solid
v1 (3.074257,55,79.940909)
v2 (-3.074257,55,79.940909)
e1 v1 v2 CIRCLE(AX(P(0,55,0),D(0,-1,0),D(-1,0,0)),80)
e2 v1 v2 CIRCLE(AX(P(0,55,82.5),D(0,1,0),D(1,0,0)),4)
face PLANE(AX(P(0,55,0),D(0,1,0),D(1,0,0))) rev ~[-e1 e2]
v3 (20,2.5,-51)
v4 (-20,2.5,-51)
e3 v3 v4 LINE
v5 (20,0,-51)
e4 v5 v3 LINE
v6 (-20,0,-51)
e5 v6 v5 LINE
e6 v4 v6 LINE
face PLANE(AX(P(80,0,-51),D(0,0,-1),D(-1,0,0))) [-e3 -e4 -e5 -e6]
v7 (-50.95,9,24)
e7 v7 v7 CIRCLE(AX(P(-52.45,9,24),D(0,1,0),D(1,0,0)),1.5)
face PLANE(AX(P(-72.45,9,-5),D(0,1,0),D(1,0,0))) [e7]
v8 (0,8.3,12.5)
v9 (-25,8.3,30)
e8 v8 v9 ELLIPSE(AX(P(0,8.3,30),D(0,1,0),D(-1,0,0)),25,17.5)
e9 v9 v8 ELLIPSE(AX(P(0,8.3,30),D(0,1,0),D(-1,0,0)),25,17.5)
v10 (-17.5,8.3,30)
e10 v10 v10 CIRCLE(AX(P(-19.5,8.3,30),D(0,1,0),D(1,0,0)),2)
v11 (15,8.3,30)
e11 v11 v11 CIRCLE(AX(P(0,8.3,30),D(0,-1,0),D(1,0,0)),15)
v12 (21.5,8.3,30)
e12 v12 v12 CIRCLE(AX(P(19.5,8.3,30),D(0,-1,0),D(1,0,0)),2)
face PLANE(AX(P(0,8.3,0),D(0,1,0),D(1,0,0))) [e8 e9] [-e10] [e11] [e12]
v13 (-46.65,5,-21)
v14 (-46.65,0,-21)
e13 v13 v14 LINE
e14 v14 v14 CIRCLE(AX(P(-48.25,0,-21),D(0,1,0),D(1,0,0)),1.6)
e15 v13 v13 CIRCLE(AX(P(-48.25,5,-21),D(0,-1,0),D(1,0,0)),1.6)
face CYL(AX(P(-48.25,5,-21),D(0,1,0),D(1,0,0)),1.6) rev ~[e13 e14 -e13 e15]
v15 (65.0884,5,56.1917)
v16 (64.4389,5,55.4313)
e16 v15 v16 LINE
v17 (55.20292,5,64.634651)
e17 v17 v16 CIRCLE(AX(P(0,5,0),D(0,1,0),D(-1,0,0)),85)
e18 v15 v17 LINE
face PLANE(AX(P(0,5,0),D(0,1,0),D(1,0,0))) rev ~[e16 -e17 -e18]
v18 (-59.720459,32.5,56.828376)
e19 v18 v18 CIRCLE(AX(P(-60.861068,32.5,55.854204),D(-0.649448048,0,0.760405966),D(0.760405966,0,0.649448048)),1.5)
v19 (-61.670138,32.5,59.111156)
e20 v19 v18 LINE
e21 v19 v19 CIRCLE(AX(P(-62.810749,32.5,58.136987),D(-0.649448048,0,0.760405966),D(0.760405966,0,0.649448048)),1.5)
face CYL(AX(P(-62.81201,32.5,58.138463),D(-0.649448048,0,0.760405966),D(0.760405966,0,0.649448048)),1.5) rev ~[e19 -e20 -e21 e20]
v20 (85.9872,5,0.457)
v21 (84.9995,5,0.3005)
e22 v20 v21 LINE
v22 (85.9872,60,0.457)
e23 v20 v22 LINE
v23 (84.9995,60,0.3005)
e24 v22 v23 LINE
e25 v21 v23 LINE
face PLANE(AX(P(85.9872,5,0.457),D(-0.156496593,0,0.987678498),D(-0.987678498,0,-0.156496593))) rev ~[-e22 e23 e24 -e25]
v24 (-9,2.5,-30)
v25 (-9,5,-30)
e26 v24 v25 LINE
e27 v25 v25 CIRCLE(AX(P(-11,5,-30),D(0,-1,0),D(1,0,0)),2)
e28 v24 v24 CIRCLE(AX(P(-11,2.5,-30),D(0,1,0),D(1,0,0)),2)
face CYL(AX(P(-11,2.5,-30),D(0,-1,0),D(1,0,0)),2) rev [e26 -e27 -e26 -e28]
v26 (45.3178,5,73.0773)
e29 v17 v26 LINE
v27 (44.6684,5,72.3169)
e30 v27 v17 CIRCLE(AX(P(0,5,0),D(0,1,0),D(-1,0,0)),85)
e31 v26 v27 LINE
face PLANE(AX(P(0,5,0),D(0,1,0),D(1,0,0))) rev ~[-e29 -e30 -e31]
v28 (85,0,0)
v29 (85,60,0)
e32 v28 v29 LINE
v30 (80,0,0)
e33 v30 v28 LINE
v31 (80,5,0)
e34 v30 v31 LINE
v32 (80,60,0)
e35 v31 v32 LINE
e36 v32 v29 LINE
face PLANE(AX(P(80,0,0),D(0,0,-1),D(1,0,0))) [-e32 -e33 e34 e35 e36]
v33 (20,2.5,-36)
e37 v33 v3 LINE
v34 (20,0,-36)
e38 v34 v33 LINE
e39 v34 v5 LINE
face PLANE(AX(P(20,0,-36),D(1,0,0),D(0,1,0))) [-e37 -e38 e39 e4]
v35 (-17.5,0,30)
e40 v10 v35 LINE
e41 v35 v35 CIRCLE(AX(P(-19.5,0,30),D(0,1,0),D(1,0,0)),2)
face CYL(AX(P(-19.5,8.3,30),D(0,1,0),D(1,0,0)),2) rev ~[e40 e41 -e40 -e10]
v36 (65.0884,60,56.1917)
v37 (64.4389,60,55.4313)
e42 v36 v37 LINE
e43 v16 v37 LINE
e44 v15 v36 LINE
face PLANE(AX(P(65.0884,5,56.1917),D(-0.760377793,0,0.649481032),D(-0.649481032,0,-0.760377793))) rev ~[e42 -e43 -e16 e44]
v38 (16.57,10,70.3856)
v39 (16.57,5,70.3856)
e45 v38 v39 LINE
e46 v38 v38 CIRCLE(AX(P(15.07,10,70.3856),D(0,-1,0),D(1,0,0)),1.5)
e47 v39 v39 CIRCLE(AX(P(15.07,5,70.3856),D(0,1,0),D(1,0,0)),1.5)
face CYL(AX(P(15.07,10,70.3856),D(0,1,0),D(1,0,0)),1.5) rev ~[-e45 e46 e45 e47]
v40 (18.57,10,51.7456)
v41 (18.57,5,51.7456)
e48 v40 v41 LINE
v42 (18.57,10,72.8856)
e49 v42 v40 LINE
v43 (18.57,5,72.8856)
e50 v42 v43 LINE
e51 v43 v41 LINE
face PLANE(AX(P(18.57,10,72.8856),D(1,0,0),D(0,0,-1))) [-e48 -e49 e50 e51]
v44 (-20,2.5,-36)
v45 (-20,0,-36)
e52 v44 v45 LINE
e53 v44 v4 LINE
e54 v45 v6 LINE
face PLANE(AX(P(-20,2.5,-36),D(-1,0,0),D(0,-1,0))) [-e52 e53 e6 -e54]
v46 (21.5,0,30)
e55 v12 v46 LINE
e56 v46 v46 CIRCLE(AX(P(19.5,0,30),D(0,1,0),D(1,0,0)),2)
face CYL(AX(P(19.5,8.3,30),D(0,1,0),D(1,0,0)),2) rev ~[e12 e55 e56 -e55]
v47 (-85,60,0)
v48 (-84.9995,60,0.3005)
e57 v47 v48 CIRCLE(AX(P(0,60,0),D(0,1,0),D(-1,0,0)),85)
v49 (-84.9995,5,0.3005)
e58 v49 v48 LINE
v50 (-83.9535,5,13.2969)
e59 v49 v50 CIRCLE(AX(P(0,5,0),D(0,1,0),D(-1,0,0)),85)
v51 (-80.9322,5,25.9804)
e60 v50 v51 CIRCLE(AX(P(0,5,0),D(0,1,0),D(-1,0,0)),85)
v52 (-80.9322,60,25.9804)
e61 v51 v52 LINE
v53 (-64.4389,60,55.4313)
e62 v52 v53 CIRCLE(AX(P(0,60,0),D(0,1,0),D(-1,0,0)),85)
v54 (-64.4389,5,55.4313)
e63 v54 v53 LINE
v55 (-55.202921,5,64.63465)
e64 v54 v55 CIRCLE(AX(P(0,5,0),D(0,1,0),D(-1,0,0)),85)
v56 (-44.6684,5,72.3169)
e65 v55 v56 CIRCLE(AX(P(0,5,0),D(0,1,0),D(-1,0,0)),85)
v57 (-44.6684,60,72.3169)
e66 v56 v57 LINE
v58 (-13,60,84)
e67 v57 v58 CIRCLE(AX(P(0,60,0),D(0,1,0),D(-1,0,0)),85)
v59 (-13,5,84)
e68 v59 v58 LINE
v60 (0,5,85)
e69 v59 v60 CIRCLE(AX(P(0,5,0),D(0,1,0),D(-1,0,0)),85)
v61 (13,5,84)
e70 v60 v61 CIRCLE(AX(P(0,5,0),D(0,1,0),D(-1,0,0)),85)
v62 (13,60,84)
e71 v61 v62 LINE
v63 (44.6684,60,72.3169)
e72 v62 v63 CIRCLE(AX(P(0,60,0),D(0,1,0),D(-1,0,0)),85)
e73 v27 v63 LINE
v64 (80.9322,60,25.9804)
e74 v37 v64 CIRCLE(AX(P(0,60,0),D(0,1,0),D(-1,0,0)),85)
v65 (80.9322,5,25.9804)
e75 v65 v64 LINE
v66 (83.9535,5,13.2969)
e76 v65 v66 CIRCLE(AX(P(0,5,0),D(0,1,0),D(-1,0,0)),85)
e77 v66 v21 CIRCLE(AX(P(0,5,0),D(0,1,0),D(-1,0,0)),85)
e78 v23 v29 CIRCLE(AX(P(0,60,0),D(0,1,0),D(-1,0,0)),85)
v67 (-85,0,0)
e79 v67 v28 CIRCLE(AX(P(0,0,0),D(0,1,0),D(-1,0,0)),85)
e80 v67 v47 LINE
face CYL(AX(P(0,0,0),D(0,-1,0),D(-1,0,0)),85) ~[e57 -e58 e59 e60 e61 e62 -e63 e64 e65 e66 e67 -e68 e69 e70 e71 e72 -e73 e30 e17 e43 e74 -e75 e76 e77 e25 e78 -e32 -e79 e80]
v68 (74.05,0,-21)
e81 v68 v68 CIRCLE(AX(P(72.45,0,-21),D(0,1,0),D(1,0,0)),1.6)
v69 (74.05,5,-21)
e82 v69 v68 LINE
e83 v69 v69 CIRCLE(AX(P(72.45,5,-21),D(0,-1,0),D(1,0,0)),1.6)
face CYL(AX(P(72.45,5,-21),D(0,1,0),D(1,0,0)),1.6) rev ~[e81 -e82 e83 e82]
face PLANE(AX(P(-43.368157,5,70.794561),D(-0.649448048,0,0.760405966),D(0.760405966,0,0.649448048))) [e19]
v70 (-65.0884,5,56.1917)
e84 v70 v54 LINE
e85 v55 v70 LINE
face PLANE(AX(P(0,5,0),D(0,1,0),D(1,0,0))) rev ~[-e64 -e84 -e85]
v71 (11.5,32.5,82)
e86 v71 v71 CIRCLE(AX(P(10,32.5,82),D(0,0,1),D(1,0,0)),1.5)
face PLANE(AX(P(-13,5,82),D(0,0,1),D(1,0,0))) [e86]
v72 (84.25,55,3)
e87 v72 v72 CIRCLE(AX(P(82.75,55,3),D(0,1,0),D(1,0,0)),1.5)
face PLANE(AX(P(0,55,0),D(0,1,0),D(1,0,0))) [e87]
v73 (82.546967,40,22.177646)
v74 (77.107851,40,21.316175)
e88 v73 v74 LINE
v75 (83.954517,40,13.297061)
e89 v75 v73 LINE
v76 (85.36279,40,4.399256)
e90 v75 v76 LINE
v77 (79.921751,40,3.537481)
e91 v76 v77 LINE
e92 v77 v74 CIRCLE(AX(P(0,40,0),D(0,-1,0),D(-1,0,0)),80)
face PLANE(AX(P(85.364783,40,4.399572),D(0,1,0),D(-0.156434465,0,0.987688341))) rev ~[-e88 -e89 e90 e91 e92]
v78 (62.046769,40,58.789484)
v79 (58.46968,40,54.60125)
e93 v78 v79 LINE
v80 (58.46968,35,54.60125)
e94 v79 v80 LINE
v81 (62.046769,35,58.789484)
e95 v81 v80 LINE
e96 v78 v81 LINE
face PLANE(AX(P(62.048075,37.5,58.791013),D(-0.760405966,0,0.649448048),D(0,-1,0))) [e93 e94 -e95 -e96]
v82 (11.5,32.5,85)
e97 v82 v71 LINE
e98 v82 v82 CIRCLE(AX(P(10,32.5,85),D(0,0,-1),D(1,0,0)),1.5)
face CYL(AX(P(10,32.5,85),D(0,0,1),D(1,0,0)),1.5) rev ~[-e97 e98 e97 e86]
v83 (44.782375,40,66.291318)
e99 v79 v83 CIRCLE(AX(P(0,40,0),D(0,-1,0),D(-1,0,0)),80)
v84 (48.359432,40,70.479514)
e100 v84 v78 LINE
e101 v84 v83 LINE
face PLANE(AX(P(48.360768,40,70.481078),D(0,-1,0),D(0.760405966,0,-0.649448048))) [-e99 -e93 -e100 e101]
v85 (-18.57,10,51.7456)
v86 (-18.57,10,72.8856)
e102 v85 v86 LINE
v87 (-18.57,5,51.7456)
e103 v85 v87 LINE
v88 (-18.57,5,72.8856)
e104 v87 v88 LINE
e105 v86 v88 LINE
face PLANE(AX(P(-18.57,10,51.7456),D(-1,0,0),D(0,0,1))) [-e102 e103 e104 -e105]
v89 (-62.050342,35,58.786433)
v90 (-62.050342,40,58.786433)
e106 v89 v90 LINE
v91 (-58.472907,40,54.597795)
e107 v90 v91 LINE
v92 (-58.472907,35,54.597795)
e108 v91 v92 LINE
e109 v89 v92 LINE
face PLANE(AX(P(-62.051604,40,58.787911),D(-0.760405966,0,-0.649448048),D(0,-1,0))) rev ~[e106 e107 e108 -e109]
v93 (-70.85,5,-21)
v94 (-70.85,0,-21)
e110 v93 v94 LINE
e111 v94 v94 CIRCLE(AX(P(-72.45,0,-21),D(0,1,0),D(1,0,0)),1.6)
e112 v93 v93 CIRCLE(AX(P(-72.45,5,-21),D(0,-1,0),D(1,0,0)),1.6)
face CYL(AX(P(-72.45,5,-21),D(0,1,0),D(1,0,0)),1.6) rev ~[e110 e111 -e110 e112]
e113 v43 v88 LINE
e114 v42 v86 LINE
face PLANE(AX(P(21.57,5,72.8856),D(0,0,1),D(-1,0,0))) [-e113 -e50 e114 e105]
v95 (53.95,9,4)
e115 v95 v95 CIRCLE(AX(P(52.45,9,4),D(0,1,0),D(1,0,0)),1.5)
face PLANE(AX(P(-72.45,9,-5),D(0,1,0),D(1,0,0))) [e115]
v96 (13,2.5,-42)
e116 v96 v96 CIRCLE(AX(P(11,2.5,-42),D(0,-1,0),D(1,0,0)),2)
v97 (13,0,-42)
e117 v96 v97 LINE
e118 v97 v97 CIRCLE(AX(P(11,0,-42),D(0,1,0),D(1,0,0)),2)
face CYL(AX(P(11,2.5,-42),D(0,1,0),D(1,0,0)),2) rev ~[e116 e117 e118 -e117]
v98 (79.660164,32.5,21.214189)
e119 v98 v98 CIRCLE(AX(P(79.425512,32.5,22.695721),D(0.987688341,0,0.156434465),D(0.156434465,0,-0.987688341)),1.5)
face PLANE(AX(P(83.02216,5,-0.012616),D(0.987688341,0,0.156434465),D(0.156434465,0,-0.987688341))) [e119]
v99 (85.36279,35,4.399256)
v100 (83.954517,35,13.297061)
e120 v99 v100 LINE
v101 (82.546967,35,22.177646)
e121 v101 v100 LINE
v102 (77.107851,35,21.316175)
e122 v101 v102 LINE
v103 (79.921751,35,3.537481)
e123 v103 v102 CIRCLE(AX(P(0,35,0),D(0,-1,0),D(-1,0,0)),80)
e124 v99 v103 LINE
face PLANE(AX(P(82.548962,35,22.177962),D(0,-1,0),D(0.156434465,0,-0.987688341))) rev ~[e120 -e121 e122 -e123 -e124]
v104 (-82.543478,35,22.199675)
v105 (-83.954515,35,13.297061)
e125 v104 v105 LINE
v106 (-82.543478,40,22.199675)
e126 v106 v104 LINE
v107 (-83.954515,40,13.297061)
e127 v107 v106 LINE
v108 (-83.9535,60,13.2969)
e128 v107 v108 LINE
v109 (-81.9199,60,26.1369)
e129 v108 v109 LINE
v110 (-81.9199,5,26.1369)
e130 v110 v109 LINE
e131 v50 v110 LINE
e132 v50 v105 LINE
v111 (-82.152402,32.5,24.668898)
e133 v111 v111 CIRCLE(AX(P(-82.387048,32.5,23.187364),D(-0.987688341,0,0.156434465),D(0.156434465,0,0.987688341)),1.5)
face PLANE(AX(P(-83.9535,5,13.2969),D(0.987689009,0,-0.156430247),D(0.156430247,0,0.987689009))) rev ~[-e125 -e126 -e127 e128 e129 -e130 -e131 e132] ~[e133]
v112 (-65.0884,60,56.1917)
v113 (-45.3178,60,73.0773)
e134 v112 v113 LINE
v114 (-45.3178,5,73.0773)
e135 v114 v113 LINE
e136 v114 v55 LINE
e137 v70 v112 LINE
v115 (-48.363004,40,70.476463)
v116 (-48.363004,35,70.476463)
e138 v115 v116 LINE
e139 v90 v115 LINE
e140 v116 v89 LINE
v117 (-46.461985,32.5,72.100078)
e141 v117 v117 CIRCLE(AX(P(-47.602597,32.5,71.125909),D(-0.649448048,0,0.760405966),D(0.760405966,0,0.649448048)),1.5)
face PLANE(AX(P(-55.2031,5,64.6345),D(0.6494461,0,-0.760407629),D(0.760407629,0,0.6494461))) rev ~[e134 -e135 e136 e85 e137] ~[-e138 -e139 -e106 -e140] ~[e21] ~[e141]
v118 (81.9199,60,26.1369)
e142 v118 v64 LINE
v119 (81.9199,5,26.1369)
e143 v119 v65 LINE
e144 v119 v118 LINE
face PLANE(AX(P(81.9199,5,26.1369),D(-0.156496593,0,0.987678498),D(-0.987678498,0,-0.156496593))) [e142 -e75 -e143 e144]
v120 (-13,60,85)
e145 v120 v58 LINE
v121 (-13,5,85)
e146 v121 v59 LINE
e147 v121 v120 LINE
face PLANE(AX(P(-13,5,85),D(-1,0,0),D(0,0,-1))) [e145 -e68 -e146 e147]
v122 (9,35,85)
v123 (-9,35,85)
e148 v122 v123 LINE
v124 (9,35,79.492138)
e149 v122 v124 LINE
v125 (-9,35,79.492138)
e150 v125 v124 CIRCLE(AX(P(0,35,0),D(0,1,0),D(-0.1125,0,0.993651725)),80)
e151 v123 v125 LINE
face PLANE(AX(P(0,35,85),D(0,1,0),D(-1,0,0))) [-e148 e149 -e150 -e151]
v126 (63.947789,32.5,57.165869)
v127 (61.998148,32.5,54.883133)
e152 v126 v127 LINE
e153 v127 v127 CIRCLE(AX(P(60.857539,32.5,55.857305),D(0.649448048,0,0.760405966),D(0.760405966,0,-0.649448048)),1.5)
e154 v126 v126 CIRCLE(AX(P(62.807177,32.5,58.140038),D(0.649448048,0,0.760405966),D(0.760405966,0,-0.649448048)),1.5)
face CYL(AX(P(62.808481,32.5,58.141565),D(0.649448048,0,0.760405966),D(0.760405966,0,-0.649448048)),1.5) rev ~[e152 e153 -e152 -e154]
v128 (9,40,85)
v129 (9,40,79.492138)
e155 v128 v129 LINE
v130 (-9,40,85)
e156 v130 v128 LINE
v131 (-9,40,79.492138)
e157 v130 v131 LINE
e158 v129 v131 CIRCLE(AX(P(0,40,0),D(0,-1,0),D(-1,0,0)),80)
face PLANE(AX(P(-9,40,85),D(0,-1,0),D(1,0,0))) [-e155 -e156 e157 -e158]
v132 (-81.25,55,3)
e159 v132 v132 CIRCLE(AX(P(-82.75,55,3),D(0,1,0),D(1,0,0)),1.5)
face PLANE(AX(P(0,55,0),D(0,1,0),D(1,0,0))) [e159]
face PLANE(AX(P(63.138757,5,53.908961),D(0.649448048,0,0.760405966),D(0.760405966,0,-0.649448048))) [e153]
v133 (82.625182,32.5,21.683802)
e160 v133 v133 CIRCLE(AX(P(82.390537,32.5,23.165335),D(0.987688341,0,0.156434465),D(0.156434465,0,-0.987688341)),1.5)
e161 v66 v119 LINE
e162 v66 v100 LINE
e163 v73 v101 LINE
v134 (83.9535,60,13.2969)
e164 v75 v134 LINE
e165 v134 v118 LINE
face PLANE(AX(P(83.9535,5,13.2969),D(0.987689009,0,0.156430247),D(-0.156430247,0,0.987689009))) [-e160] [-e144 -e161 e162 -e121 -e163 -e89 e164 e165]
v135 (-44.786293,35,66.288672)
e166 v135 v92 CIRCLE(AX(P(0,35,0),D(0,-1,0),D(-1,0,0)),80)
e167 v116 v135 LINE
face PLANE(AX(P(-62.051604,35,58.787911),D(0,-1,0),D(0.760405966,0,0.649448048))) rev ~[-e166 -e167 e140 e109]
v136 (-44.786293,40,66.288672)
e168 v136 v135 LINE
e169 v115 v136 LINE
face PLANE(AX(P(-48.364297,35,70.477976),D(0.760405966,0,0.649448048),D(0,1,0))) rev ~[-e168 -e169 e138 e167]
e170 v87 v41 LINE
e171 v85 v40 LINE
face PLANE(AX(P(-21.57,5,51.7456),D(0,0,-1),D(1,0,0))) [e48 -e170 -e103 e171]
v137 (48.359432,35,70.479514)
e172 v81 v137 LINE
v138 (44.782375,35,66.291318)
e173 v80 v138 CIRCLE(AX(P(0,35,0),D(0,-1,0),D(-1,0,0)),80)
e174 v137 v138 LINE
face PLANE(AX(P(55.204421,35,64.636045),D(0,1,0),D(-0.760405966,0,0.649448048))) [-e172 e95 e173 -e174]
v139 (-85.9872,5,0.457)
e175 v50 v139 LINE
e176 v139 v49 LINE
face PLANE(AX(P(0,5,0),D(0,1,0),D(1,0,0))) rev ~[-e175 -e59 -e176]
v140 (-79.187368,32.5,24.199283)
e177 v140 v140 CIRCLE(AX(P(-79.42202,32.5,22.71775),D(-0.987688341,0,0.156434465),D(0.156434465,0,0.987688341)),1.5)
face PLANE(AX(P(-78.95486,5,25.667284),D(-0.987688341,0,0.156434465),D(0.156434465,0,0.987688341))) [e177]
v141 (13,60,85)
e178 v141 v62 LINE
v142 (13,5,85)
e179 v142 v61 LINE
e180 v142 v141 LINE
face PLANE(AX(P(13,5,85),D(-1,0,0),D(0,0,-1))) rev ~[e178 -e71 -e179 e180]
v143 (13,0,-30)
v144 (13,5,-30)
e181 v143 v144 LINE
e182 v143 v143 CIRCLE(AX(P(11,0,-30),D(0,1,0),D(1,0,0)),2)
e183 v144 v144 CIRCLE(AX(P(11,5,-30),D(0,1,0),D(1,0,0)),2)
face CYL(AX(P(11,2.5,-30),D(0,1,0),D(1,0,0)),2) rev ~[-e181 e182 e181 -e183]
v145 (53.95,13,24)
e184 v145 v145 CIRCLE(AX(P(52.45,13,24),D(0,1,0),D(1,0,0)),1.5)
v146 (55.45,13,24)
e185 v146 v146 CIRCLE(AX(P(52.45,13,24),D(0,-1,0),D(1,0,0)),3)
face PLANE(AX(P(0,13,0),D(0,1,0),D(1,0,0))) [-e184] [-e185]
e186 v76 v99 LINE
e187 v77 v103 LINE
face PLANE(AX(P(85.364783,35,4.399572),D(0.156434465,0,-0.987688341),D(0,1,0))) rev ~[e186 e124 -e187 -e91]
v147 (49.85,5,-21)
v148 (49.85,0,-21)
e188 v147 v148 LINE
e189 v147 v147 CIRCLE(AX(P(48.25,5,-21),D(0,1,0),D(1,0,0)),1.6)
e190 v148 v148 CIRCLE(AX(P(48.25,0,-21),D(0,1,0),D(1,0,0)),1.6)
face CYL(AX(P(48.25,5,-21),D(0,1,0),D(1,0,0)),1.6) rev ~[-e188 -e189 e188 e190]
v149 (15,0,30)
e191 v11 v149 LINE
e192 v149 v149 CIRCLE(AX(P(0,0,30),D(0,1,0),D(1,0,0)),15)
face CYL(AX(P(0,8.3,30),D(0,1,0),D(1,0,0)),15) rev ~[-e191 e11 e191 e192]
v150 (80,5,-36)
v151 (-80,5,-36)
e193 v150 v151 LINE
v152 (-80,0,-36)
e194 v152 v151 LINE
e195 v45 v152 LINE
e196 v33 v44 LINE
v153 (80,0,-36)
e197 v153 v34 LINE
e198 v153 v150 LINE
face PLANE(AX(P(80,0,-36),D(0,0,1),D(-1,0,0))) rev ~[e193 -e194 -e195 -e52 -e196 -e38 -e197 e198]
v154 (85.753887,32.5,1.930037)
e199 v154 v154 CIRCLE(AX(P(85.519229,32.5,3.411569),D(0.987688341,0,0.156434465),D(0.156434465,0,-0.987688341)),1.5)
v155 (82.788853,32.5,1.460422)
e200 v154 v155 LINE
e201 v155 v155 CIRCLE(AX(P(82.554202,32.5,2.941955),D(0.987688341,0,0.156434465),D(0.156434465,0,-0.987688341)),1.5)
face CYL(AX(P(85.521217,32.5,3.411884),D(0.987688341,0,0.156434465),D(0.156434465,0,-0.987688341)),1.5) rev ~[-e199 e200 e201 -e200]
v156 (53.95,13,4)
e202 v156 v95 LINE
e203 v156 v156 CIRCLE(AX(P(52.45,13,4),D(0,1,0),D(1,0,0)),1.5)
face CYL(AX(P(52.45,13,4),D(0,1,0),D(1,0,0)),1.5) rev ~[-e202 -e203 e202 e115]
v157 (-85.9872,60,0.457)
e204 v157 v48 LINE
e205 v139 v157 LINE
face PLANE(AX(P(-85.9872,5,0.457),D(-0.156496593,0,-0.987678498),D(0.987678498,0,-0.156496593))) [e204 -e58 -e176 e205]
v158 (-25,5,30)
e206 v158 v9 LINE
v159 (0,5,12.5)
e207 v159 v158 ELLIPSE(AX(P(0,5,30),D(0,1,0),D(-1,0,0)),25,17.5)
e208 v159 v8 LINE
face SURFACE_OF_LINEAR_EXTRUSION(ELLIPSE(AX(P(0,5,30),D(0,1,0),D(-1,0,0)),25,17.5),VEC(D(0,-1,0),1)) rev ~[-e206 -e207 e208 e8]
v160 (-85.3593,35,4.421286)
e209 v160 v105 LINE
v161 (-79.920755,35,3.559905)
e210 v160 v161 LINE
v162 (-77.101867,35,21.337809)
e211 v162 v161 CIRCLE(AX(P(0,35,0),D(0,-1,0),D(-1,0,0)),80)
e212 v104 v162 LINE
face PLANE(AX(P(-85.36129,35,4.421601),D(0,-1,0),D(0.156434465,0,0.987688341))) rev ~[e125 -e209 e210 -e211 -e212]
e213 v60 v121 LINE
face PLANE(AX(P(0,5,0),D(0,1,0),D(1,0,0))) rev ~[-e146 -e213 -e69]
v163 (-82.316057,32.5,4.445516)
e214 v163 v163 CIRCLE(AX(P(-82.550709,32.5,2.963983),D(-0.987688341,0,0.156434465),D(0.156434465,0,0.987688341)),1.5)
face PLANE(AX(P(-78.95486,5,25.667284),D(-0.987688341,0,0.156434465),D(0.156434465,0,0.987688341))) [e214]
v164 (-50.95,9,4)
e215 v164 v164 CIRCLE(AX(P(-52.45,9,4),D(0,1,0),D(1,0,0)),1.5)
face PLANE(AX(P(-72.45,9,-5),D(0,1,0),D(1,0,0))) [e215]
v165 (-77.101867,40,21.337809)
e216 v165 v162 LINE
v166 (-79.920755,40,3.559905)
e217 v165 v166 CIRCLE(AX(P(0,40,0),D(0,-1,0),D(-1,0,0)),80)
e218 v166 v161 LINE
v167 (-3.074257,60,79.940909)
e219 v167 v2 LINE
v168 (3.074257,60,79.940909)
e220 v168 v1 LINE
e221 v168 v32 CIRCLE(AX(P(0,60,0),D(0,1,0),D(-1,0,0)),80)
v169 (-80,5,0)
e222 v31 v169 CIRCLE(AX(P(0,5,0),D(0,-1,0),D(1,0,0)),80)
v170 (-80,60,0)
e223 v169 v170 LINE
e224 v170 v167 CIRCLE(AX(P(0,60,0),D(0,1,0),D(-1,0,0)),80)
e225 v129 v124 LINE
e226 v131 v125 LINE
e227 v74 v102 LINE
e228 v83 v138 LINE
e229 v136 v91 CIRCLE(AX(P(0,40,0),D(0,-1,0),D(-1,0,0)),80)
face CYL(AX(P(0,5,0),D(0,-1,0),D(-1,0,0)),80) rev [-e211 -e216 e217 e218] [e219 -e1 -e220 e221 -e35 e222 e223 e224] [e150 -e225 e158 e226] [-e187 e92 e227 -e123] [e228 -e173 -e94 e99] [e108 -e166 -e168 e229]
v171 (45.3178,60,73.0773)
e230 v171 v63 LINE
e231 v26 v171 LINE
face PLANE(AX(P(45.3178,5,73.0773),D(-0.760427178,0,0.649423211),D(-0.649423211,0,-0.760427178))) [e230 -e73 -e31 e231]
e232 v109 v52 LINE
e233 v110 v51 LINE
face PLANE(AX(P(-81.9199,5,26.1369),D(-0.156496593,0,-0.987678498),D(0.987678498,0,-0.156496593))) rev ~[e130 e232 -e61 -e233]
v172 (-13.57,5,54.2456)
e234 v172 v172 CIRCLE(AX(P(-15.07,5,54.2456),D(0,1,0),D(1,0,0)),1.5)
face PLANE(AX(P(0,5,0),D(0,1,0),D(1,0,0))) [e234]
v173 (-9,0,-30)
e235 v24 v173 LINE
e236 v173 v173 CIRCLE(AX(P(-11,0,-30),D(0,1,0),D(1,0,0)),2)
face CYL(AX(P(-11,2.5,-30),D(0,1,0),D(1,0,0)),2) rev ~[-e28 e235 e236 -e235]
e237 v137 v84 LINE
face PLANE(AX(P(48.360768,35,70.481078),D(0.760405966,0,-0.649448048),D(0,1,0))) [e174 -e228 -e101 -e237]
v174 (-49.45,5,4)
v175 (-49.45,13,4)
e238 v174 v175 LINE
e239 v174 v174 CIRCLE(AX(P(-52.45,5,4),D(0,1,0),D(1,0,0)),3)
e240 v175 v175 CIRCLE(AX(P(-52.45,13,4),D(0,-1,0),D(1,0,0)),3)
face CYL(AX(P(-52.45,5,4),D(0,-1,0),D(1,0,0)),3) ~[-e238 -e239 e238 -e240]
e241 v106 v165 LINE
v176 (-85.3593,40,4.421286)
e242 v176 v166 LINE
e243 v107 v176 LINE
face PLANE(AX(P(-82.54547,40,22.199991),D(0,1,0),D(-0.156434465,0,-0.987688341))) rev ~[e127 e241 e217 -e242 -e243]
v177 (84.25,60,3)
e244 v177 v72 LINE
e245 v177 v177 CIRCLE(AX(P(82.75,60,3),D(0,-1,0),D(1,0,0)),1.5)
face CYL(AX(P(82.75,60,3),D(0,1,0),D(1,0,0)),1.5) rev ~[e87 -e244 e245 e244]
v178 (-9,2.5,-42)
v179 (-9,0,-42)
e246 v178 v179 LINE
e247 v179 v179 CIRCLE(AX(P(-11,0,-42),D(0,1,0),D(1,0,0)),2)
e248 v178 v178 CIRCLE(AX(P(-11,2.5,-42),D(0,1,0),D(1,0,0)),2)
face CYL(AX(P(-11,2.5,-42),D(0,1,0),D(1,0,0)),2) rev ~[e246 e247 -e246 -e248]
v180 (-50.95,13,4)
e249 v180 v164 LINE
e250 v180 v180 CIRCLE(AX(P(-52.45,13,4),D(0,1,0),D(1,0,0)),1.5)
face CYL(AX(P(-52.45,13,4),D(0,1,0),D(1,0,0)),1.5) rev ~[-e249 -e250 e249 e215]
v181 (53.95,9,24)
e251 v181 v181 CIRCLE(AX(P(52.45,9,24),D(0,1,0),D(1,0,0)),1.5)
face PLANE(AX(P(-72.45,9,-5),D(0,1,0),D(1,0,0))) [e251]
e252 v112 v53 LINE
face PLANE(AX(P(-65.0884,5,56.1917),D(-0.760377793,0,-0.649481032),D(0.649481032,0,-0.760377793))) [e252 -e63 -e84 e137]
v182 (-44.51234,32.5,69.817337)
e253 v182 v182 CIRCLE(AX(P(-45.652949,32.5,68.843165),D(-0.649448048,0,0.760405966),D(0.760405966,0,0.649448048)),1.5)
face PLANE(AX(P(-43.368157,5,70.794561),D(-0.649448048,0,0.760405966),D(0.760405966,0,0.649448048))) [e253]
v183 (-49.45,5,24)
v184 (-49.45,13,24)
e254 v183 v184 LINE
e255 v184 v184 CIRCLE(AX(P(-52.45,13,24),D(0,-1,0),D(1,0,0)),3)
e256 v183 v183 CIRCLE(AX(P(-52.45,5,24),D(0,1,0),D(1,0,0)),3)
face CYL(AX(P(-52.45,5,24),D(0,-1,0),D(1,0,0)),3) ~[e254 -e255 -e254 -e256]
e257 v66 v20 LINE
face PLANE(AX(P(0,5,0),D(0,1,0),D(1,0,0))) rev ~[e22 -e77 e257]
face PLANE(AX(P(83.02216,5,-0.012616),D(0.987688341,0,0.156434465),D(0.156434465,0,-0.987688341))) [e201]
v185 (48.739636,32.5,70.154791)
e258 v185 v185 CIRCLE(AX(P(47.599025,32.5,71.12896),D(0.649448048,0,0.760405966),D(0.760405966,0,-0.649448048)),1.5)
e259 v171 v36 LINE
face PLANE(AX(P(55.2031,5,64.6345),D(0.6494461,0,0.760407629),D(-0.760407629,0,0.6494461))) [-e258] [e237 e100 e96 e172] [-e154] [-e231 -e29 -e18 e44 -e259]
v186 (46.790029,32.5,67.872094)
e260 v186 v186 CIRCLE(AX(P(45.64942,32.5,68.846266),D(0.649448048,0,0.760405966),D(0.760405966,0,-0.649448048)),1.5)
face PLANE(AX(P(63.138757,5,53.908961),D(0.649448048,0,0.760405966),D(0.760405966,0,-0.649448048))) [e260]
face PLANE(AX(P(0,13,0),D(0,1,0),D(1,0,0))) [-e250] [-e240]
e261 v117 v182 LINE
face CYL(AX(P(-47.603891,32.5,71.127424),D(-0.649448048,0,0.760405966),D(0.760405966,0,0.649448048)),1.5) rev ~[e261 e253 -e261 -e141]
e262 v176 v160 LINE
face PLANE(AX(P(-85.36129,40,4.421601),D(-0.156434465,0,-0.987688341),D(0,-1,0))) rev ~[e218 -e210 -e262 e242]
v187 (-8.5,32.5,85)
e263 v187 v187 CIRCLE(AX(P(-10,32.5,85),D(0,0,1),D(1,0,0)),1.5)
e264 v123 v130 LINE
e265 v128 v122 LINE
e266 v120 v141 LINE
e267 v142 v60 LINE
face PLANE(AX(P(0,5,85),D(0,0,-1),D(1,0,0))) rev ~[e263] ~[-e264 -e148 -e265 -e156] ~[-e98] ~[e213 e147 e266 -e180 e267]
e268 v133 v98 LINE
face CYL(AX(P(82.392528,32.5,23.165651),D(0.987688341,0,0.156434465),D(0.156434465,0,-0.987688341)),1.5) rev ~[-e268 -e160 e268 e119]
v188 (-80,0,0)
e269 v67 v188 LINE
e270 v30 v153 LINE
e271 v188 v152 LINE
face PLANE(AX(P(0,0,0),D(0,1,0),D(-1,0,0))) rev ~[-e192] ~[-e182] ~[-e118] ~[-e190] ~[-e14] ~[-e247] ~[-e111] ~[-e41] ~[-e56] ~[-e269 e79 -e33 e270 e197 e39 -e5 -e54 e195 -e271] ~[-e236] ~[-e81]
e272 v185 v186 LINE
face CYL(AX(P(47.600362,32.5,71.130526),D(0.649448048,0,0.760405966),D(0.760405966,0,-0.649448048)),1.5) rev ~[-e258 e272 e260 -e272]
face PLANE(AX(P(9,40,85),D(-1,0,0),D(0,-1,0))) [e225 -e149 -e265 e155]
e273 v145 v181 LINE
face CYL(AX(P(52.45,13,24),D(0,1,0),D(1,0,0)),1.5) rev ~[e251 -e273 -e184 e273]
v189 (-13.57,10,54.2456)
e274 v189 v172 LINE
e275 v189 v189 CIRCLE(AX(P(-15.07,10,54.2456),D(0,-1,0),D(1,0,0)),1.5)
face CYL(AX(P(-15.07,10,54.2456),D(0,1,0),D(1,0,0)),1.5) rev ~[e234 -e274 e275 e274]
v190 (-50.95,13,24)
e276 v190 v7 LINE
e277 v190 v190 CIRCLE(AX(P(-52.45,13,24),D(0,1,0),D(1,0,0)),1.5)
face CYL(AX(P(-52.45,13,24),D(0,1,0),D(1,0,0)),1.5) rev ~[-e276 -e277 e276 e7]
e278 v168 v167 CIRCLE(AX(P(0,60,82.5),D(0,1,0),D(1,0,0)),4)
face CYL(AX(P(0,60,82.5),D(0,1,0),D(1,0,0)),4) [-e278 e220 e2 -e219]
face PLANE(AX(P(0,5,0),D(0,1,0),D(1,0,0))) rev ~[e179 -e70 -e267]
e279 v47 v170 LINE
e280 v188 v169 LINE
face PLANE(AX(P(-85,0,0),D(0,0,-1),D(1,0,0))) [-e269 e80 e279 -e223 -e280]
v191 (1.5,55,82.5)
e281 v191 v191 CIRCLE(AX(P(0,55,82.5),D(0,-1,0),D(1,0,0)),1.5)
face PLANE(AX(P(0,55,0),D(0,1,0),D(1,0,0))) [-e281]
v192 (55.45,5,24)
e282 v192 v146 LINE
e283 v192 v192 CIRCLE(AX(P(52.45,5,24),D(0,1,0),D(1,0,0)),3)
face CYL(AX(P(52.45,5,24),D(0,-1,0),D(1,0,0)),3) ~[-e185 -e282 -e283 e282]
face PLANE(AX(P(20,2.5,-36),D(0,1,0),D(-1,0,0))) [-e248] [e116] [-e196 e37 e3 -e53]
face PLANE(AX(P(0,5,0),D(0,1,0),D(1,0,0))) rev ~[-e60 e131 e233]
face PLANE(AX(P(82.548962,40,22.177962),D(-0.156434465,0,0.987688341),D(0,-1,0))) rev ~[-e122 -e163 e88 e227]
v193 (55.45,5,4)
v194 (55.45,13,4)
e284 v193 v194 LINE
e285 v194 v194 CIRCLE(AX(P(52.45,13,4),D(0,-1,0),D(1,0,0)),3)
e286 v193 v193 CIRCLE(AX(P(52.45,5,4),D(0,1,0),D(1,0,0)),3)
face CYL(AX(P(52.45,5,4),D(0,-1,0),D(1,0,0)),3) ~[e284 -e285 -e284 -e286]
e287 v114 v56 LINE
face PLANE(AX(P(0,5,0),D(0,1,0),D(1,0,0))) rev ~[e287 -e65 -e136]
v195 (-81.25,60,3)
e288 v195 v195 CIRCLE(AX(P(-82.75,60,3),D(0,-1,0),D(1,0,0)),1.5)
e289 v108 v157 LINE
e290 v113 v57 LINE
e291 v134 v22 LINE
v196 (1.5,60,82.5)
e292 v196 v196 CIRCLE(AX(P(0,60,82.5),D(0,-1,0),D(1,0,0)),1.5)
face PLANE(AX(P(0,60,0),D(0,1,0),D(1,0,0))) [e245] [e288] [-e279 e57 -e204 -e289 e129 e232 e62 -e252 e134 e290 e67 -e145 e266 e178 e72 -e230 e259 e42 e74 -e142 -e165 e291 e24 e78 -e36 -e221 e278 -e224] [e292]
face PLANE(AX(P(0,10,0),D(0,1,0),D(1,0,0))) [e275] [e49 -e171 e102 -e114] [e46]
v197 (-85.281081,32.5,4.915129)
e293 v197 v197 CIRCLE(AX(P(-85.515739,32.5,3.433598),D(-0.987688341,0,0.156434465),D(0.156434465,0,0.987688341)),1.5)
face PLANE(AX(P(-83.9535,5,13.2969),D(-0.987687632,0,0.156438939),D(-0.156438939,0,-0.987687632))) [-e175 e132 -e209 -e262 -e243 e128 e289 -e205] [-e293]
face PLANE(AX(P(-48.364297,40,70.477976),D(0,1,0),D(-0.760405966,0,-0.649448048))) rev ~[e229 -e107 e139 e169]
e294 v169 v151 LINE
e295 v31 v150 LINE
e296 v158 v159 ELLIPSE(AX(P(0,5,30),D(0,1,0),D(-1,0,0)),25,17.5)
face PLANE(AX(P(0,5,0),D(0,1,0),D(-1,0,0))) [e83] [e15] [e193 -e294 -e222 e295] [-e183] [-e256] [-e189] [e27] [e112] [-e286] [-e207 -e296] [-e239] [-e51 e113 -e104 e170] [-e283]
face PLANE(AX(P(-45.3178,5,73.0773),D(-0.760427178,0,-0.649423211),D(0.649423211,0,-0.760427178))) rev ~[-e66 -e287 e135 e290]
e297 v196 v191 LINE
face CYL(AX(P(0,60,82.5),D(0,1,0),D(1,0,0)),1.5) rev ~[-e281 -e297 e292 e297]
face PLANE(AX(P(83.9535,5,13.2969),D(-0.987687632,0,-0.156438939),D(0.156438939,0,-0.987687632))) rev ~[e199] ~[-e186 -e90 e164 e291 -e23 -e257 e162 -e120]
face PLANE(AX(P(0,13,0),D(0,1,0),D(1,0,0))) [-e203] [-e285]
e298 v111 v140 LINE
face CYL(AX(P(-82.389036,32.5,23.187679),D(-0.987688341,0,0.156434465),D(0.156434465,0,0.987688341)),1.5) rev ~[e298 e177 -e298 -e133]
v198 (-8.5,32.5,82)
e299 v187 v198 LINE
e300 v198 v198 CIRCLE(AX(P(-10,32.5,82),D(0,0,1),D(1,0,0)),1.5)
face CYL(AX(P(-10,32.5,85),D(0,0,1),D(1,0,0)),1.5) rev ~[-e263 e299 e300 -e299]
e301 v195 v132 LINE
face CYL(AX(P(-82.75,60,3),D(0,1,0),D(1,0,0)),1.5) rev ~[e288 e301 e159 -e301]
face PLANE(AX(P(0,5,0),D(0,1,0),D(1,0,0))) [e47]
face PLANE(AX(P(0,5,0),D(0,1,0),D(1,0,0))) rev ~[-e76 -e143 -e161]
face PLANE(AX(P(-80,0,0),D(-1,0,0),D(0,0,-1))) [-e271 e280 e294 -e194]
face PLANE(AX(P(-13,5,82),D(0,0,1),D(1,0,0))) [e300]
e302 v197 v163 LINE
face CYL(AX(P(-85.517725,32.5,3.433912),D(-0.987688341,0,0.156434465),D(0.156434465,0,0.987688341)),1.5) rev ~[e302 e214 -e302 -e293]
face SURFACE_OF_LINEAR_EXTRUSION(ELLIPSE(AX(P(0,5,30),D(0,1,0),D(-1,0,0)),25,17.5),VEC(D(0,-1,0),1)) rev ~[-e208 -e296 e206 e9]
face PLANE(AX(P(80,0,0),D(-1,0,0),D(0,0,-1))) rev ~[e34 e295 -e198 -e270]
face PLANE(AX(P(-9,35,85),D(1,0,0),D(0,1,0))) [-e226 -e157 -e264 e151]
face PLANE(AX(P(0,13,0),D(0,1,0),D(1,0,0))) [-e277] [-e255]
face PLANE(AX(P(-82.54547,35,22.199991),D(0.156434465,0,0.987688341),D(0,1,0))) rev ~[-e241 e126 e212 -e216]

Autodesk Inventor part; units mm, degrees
ref_plane "YZ Plane" through (0, 0, 0) normal (1, 0, 0) x (0, 1, 0)
ref_plane "XZ Plane" through (0, 0, 0) normal (0, 1, 0) x (-1, 0, 0)
ref_plane "XY Plane" through (0, 0, 0) normal (0, 0, 1) x (1, 0, 0)
sketch "Boceto2" plane through (0, 0, 0) normal (0, 1, 0) x (-1, 0, 0)
  arc A0 (85, 0) -> (-85, 0) centre (0, 0) ccw
  line L0 (85, 0) -> (80, 0)
  line L1 (-80, 0) -> (-85, 0)
  line L2 (80, 0) -> (80, -36)
  line L3 (-80, 0) -> (-80, -36)
  line L4 (-80, -36) -> (80, -36)
  point P0 (0, 0)
  point P1 (0, 85)
  dimension "d228" = 85
  dimension "d229" = 5
  dimension "d461" = 36
  dimension "d462" = 36
extrude "Extrusión1" add sketch "Boceto2" along normal blind 5
sketch "Boceto6" plane through (0, 5, 0) normal (0, 1, 0) x (1, 0, 0)
  circle A0 centre (48.25, 21) radius 1.6
  circle A1 centre (72.45, 21) radius 1.6
  circle A2 centre (-72.45, 21) radius 1.6
  line L0 (80, 36) -> (-80, 36) projected
  line L1 (80, 36) -> (80, 21)
  line L2 (80, 0) -> (80, 36) projected
  line L3 (80, 21) -> (72.45, 21)
  line L4 (-80, 36) -> (-80, 0) projected
  line L5 (-80, 36) -> (-80, 21)
  line L6 (-80, 21) -> (-72.45, 21)
  line L7 (72.45, 21) -> (48.25, 21)
  line L8 (-72.45, 21) -> (-48.25, 21)
  circle A3 centre (-48.25, 21) radius 1.6
  dimension "d59" = 3.2
  dimension "d60" = 3.2
  dimension "d63" = 3.2
  dimension "d468" = 15
  dimension "d469" = 7.55
  dimension "d471" = 15
  dimension "d472" = 7.55
  dimension "d502" = 24.2
  dimension "d503" = 24.2
  dimension "d504" = 3.2
extrude "Extrusión4" cut sketch "Boceto6" against normal blind 5
sketch "Boceto7" plane through (0, 5, 0) normal (0, 1, 0) x (1, 0, 0)
  line L0 (0, 0) -> (0, -85)
  line L1 (0, 0) -> (55.2031, -64.6345)
  line L2 (0, 0) -> (83.9535, -13.2969)
  arc A0 (-80, 0) -> (80, 0) centre (0, 0) ccw
  line L3 (-85, 0) -> (-80, 0)
  line L4 (80, 0) -> (85, 0)
  line L5 (0, -85) -> (13, -85)
  arc A1 (-85, 0) -> (85, 0) centre (0, 0) ccw projected
  line L6 (0, -85) -> (-13, -85)
  line L7 (-13, -85) -> (-13, -84)
  line L8 (13, -85) -> (13, -84)
  line L9 (0, 0) -> (-55.2031, -64.6345)
  line L10 (0, 0) -> (85, 0) construction
  line L11 (0, 0) -> (85, 0) construction
  line L12 (0, 0) -> (-83.9535, -13.2969)
  line L13 (0, 0) -> (90.9011, 0) construction
  line L14 (0, 0) -> (55.2031, -64.6345)
  line L15 (55.2031, -64.6345) -> (65.0884, -56.1917)
  line L16 (55.2031, -64.6345) -> (45.3178, -73.0773)
  line L17 (45.3178, -73.0773) -> (44.6684, -72.3169)
  line L18 (65.0884, -56.1917) -> (64.4389, -55.4313)
  line L19 (0, 0) -> (83.9535, -13.2969)
  line L20 (83.9535, -13.2969) -> (85.9872, -0.457)
  line L21 (83.9535, -13.2969) -> (81.9199, -26.1369)
  line L22 (81.9199, -26.1369) -> (80.9322, -25.9804)
  line L23 (85.9872, -0.457) -> (84.9995, -0.3005)
  line L24 (0, 0) -> (-55.2031, -64.6345)
  line L25 (-55.2031, -64.6345) -> (-45.3178, -73.0773)
  line L26 (-55.2031, -64.6345) -> (-65.0884, -56.1917)
  line L27 (-65.0884, -56.1917) -> (-64.4389, -55.4313)
  line L28 (-45.3178, -73.0773) -> (-44.6684, -72.3169)
  line L29 (0, 0) -> (-83.9535, -13.2969)
  line L30 (-83.9535, -13.2969) -> (-81.9199, -26.1369)
  line L31 (-83.9535, -13.2969) -> (-85.9872, -0.457)
  line L32 (-85.9872, -0.457) -> (-84.9995, -0.3005)
  line L33 (-81.9199, -26.1369) -> (-80.9322, -25.9804)
  arc A2 (-85, 0) -> (-84.9995, -0.3005) centre (0, 0) ccw
  arc A3 (-80.9322, -25.9804) -> (-64.4389, -55.4313) centre (0, 0) ccw
  arc A4 (-44.6684, -72.3169) -> (-13, -84) centre (0, 0) ccw
  arc A5 (13, -84) -> (44.6684, -72.3169) centre (0, 0) ccw
  arc A6 (64.4389, -55.4313) -> (80.9322, -25.9804) centre (0, 0) ccw
  arc A7 (84.9995, -0.3005) -> (85, 0) centre (0, 0) ccw
  point P0 (0, 0)
  point P1 (-80, 0)
  dimension "d234" = 40.5
  dimension "d235" = 81
  dimension "d237" = 13
  dimension "d238" = 13
  dimension "d241" = 171
  dimension "d242" = 13
  dimension "d243" = 13
  dimension "d244" = 13
  dimension "d245" = 13
  dimension "d246" = 13
  dimension "d247" = 13
  dimension "d248" = 13
  dimension "d249" = 13
extrude "Extrusión5" add sketch "Boceto7" along normal blind 55 contours A0 L1 A1 L0 | L0 A1 L9 A0 | A0 L2 A1 L1 | A0 L4 A1 L2 | L9 A1 L12 A0 | L12 A1 L3 A0 | A1 L8 L5 | L6 L7 A1 | L16 L17 A1 | A1 L18 L15 | L21 L22 A1 | A1 L23 L20 | L26 L27 A1 | A1 L28 L25 | L31 L32 A1 | A1 L33 L30
sketch "Boceto22" plane through (0, 5, 0) normal (0, 1, 0) x (1, 0, 0)
  ellipse E0 centre (0, -30) end of major axis (0, -12.5) minor radius 25
  line L0 (0, -30) -> (-0.3651, -30)
  line L1 (-80, 36) -> (0, 36)
  line L2 (80, 36) -> (-80, 36) projected
  line L3 (-80, 36) -> (-80, 0) projected
  line L4 (-80, 36) -> (0, 36)
  line L5 (0, 36) -> (0, -30)
  point P0 (0, 0)
  dimension "d473" = 80
extrude "Extrusión15" add sketch "Boceto22" along normal blind 3.3
sketch "Boceto25" plane through (0, 60, 0) normal (0, 1, 0) x (1, 0, 0)
  circle A0 centre (82.75, -3) radius 1.5
  circle A1 centre (-82.75, -3) radius 1.5
  circle A2 centre (0, -82.5) radius 1.5
  line L0 (0, -85) -> (0, -82.5)
  line L1 (82.75, 0) -> (82.75, -3)
  line L2 (-82.75, 0) -> (-82.75, -3)
  line L3 (85, 0) -> (80, 0) projected
  line L4 (80, 0) -> (82.75, 0)
  line L5 (-80, 0) -> (-82.75, 0)
  line L6 (-80, 0) -> (-85, 0) projected
  arc A3 (4, -82.5) -> (-4, -82.5) centre (0, -82.5) ccw
  line L7 (0, -82.5) -> (-4, -82.5)
  line L8 (0, -82.5) -> (4, -82.5)
  point P0 (0, 0)
  point P1 (-1.5, -82.5)
  point P2 (1.5, -82.5)
  dimension "d200" = 3
  dimension "d203" = 3
  dimension "d205" = 3
  dimension "d264" = 3
  dimension "d267" = 3
  dimension "d423" = 2.75
  dimension "d424" = 2.75
  dimension "d460" = 2.5
extrude "Extrusión17" cut sketch "Boceto25" against normal blind 5 contours A0 | A1 | L8 L7 A2 | A2 L0 L8 | L7 L0 A2
sketch "Boceto27" plane through (0, 8.3, 0) normal (0, 1, 0) x (1, 0, 0)
  ellipse E0 centre (0, -30) end of major axis (-25, -30) minor radius 17.5 projected
  circle A0 centre (0, -30) radius 15
  line L0 (0, -30) -> (-19.5, -30)
  line L1 (0, -30) -> (19.5, -30)
  circle A1 centre (19.5, -30) radius 2
  circle A2 centre (-19.5, -30) radius 2
  point P0 (0, 0)
  dimension "d252" = 30
  dimension "d253" = 19.5
  dimension "d254" = 19.5
  dimension "d255" = 4
  dimension "d256" = 4
extrude "Extrusión19" cut sketch "Boceto27" against normal blind 15 contours L1 L0 A0 | A2 | A0 L0 L1 | A1
sketch "Boceto31" plane through (-13, 5, 85) normal (0, 0, 1) x (1, 0, 0)
  line L0 (26, 0) -> (26, 55) projected
  line L1 (26, 0) -> (13, 0)
  line L2 (-12, 0) -> (38, 0) projected
  line L3 (13, 0) -> (13, 27.5)
  line L4 (13, 27.5) -> (23, 27.5)
  line L5 (13, 27.5) -> (3, 27.5)
  circle A0 centre (3, 27.5) radius 1.5
  circle A1 centre (23, 27.5) radius 1.5
  point P0 (13, -5)
  dimension "d282" = 13
  dimension "d283" = 27.5
  dimension "d285" = 10
  dimension "d286" = 3
  dimension "d287" = 3
extrude "Extrusión23" cut sketch "Boceto31" against normal blind 3
sketch "Boceto32" plane through (65.0884, 5, 56.1917) normal (0.6494, 0, 0.7604) x (0.7604, 0, -0.6494)
  line L0 (-26, 0) -> (-26, 55) projected
  line L1 (-26, 0) -> (-13, 0)
  line L2 (-54.632, 0) -> (-10.3349, 0) projected
  line L3 (-13, 0) -> (-13, 27.5)
  line L4 (-13, 27.5) -> (-3, 27.5)
  line L5 (-13, 27.5) -> (-23, 27.5)
  circle A0 centre (-23, 27.5) radius 1.5
  circle A1 centre (-3, 27.5) radius 1.5
  point P0 (-13, -5)
  dimension "d290" = 13
  dimension "d291" = 27.5
  dimension "d292" = 10
  dimension "d293" = 10
  dimension "d294" = 3
  dimension "d295" = 3
extrude "Extrusión24" cut sketch "Boceto32" against normal blind 3
sketch "Boceto33" plane through (85.9872, 5, 0.457) normal (0.9877, 0, 0.1564) x (0.1564, 0, -0.9877)
  line L0 (0.0086, 0) -> (-12.9914, 0)
  line L1 (-0.4852, 0) -> (-93, 0) projected
  line L2 (-12.9914, 0) -> (-12.9914, 27.5)
  line L3 (-12.9914, 27.5) -> (-2.9914, 27.5)
  line L4 (-12.9914, 27.5) -> (-22.9914, 27.5)
  circle A0 centre (-22.9914, 27.5) radius 1.5
  circle A1 centre (-2.9914, 27.5) radius 1.5
  point P0 (-13, -5)
  point P1 (-25.5148, 0)
  dimension "d298" = 13
  dimension "d299" = 27.5
  dimension "d300" = 10
  dimension "d301" = 10
  dimension "d302" = 3
  dimension "d303" = 3
extrude "Extrusión25" cut sketch "Boceto33" against normal blind 3
sketch "Boceto34" plane through (-45.3178, 5, 73.0773) normal (-0.6494, 0, 0.7604) x (0.7604, 0, 0.6494)
  line L0 (67, 0) -> (-73.8325, 0) projected
  line L1 (-26.0047, 0) -> (-13.0047, 0)
  line L2 (-13.0047, 0) -> (-13.0047, 27.5)
  line L3 (-15.6651, 0) -> (28.632, 0) projected
  line L4 (-13.0047, 0) -> (14.4953, 0) construction
  line L5 (-13.0047, 27.5) -> (-3.0047, 27.5)
  line L6 (-13.0047, 27.5) -> (-23.0047, 27.5)
  circle A0 centre (-23.0047, 27.5) radius 1.5
  circle A1 centre (-3.0047, 27.5) radius 1.5
  point P0 (-13, -5)
  point P1 (47.8325, 0)
  dimension "d306" = 13
  dimension "d307" = 27.5
  dimension "d308" = 90
  dimension "d309" = 10
  dimension "d310" = 10
  dimension "d311" = 3
  dimension "d312" = 3
extrude "Extrusión26" cut sketch "Boceto34" against normal blind 3
sketch "Boceto35" plane through (-81.9199, 5, 26.1369) normal (-0.9877, 0, 0.1564) x (0.1564, 0, 0.9877)
  line L0 (-27.7935, 0) -> (-24.5935, 0) projected
  line L1 (-25.9863, 0) -> (-12.9863, 0)
  line L2 (-12.9863, 0) -> (-12.9863, 27.5)
  line L3 (-12.9863, 27.5) -> (-2.9863, 27.5)
  line L4 (-12.9863, 27.5) -> (-22.9863, 27.5)
  circle A0 centre (-22.9863, 27.5) radius 1.5
  circle A1 centre (-2.9863, 27.5) radius 1.5
  point P0 (-13, -5)
  dimension "d315" = 13
  dimension "d316" = 27.5
  dimension "d317" = 10
  dimension "d318" = 10
  dimension "d319" = 3
  dimension "d320" = 3
extrude "Extrusión27" cut sketch "Boceto35" against normal blind 3
sketch "Boceto36" plane through (-13, 5, 85) normal (0, 0, 1) x (1, 0, 0)
  circle A0 centre (3, 27.5) radius 1.5 projected
  line L0 (3, 27.5) -> (13, 27.5)
  line L1 (13, 27.5) -> (13, 32.5)
  line L2 (4, 32.5) -> (4, 35)
  line L3 (4, 35) -> (22, 35)
  line L4 (22, 35) -> (22, 30)
  line L5 (22, 30) -> (4, 30)
  line L6 (4, 30) -> (4, 32.5)
  point P0 (13, -5)
  dimension "d336" = 10
  dimension "d337" = 5
  dimension "d340" = 2.5
  dimension "d358" = 18
  dimension "d359" = 5
  dimension "d360" = 18
extrude "Extrusión28" cut sketch "Boceto36" against normal blind 6 contours L5 L6 L2 L3 L4
sketch "Boceto37" plane through (65.0884, 5, 56.1917) normal (0.6494, 0, 0.7604) x (0.7604, 0, -0.6494)
  circle A0 centre (-23, 27.5) radius 1.5 projected
  line L0 (-23, 27.5) -> (-13, 27.5)
  line L1 (-13, 27.5) -> (-13, 32.5)
  line L2 (-13, 32.5) -> (-4, 32.5)
  line L3 (-4, 32.5) -> (-4, 30)
  line L4 (-4, 30) -> (-22, 30)
  line L5 (-22, 30) -> (-22, 35)
  line L6 (-22, 35) -> (-4, 35)
  line L7 (-4, 35) -> (-4, 32.5)
  point P0 (-13, -5)
  dimension "d348" = 10
  dimension "d349" = 5
  dimension "d350" = 9
  dimension "d351" = 2.5
  dimension "d352" = 18
  dimension "d354" = 5
  dimension "d355" = 18
extrude "Extrusión29" cut sketch "Boceto37" against normal blind 6 contours L4 L5 L6 L7 L2 L1 | L1 L2 L3 L4
sketch "Boceto38" plane through (85.9872, 5, 0.457) normal (0.9877, 0, 0.1564) x (0.1564, 0, -0.9877)
  circle A0 centre (-22.9914, 27.5) radius 1.5 projected
  line L0 (-22.9914, 27.5) -> (-12.9914, 27.5)
  line L1 (-12.9914, 27.5) -> (-12.9914, 32.5)
  line L2 (-12.9914, 32.5) -> (-3.9914, 32.5)
  line L3 (-3.9914, 35) -> (-21.9914, 35)
  line L4 (-21.9914, 35) -> (-21.9914, 30)
  line L5 (-21.9914, 30) -> (-3.9914, 30)
  line L6 (-3.9914, 30) -> (-3.9914, 35)
  point P0 (-13, -5)
  dimension "d361" = 10
  dimension "d362" = 5
  dimension "d364" = 2.5
  dimension "d366" = 5
  dimension "d367" = 18
extrude "Extrusión30" cut sketch "Boceto38" against normal blind 6 contours L5 L4 L3 L6 L2 L1 | L1 L2 L6 L5
sketch "Boceto40" plane through (-45.3178, 5, 73.0773) normal (-0.6494, 0, 0.7604) x (0.7604, 0, 0.6494)
  circle A0 centre (-23.0047, 27.5) radius 1.5 projected
  line L0 (-23.0047, 27.5) -> (-13.0047, 27.5)
  line L1 (-13.0047, 27.5) -> (-13.0047, 32.5)
  line L2 (-13.0047, 32.5) -> (-4.0047, 32.5)
  line L3 (-4.0047, 32.5) -> (-4.0047, 35)
  line L4 (-4.0047, 35) -> (-22.0047, 35)
  line L5 (-22.0047, 35) -> (-22.0047, 30)
  line L6 (-22.0047, 30) -> (-4.0047, 30)
  line L7 (-4.0047, 30) -> (-4.0047, 32.5)
  point P0 (-13, -5)
  dimension "d370" = 10
  dimension "d371" = 5
  dimension "d372" = 9
  dimension "d373" = 2.5
  dimension "d374" = 18
  dimension "d375" = 5
  dimension "d376" = 18
extrude "Extrusión31" cut sketch "Boceto40" against normal blind 6 contours L6 L5 L4 L3 L2 L1 | L1 L2 L7 L6
sketch "Boceto41" plane through (-81.9199, 5, 26.1369) normal (-0.9877, 0, 0.1564) x (0.1564, 0, 0.9877)
  circle A0 centre (-22.9863, 27.5) radius 1.5 projected
  line L0 (-22.9863, 27.5) -> (-12.9863, 27.5)
  line L1 (-12.9863, 27.5) -> (-12.9863, 32.5)
  line L2 (-12.9863, 32.5) -> (-3.9863, 32.5)
  line L3 (-3.9863, 35) -> (-21.9863, 35)
  line L4 (-21.9863, 35) -> (-21.9863, 30)
  line L5 (-21.9863, 30) -> (-3.9863, 30)
  line L6 (-3.9863, 30) -> (-3.9863, 35)
  point P0 (-13, -5)
  dimension "d379" = 10
  dimension "d380" = 5
  dimension "d382" = 2.5
  dimension "d384" = 5
  dimension "d385" = 18
extrude "Extrusión32" cut sketch "Boceto41" against normal blind 6 contours L5 L4 L3 L6 L2 L1 | L1 L2 L6 L5
sketch "Boceto42" plane through (0, 5, 0) normal (0, 1, 0) x (1, 0, 0)
  circle A0 centre (-72.45, 21) radius 1.6 projected
  circle A1 centre (72.45, 21) radius 1.6 projected
  circle A2 centre (-19.5, -30) radius 2 projected
  circle A3 centre (-52.45, -4) radius 3
  circle A4 centre (-52.45, -24) radius 3
  circle A5 centre (52.45, -24) radius 3
  circle A6 centre (52.45, -4) radius 3
  line L0 (-52.45, -4) -> (-52.45, -24)
  line L1 (52.45, -4) -> (52.45, -24)
  line L2 (-72.45, 21) -> (-72.45, -4)
  line L3 (-72.45, -4) -> (-52.45, -4)
  line L4 (72.45, 21) -> (72.45, -4)
  line L5 (72.45, -4) -> (52.45, -4)
  point P0 (0, 0)
  dimension "d437" = 6
  dimension "d446" = 20
  dimension "d533" = 20
  dimension "d537" = 25
  dimension "d538" = 20
  dimension "d539" = 25
  dimension "d540" = 20
extrude "Extrusión33" add sketch "Boceto42" along normal blind 8 contours A4 | A3 L0 L3 | L3 L0 A3 | A5 | A6 L1 L5 | L5 L1 A6
sketch "Boceto43" plane through (-72.45, 13, -5) normal (0, 1, 0) x (1, 0, 0)
  circle A0 centre (20, -9) radius 3 projected
  circle A1 centre (20, -9) radius 1.5
  circle A2 centre (20, -29) radius 3 projected
  circle A3 centre (20, -29) radius 1.5
  circle A4 centre (124.9, -29) radius 3 projected
  circle A5 centre (124.9, -29) radius 1.5
  circle A6 centre (124.9, -9) radius 3 projected
  circle A7 centre (124.9, -9) radius 1.5
  point P0 (72.45, -5)
  dimension "d440" = 3
  dimension "d441" = 3
  dimension "d442" = 3
  dimension "d443" = 3
extrude "Extrusión34" cut sketch "Boceto43" against normal blind 4 contours A1 | A3 | A5 | A7
extrude "Extrusión35" add sketch "Boceto25" against normal blind 5 contours A2 L7 A3 L8
sketch "Boceto46" plane through (80, 0, -36) normal (0, 0, -1) x (-1, 0, 0)
  line L0 (95, 0) -> (65, 0) projected
  line L1 (80, 0) -> (60, 0)
  line L2 (60, 0) -> (60, 2.5)
  line L3 (60, 2.5) -> (100, 2.5)
  line L4 (100, 2.5) -> (100, 0)
  line L5 (100, 0) -> (80, 0)
  dimension "d478" = 20
  dimension "d479" = 2.5
  dimension "d480" = 40
  dimension "d481" = 2.5
extrude "Extrusión36" add sketch "Boceto46" along normal blind 15
sketch "Boceto48" plane through (-20, 2.5, -36) normal (0, 1, 0) x (1, 0, 0)
  line L0 (40, 0) -> (0, 0) projected
  line L1 (20, 0) -> (20, 6)
  line L2 (20, 6) -> (9, 6)
  line L3 (20, 6) -> (31, 6)
  circle A0 centre (9, 6) radius 2
  circle A1 centre (31, 6) radius 2
  line L4 (20, 0) -> (20, -6)
  line L5 (20, -6) -> (9, -6)
  line L6 (20, -6) -> (31, -6)
  circle A2 centre (9, -6) radius 2
  circle A3 centre (31, -6) radius 2
  point P0 (20, -36)
  dimension "d488" = 6
  dimension "d489" = 11
  dimension "d490" = 11
  dimension "d491" = 4
  dimension "d492" = 4
  dimension "d495" = 6
  dimension "d496" = 11
  dimension "d497" = 11
  dimension "d498" = 4
  dimension "d499" = 4
extrude "Extrusión38" cut sketch "Boceto48" against normal blind 2.5 contours A0 | A1
extrude "Extrusión39" cut sketch "Boceto48" along normal mid plane 7 contours A3 | A2
sketch "Boceto49" plane through (0, 5, 0) normal (0, 1, 0) x (1, 0, 0)
  line L0 (-21.57, -51.7456) -> (21.57, -51.7456)
  line L1 (21.57, -51.7456) -> (21.57, -72.8856)
  line L2 (21.57, -72.8856) -> (-21.57, -72.8856)
  line L3 (-21.57, -72.8856) -> (-21.57, -51.7456)
  line L4 (21.57, -51.7456) -> (21.57, -62.3156)
  line L5 (21.57, -51.7456) -> (-21.57, -51.7456)
  point P0 (0, 0)
extrude "Extrusión40" add sketch "Boceto49" along normal blind 5
sketch "Boceto50" plane through (0, 10, 0) normal (0, 1, 0) x (1, 0, 0)
  line L0 (21.57, -72.8856) -> (15.07, -72.8856)
  line L1 (-21.57, -72.8856) -> (21.57, -72.8856) projected
  line L2 (15.07, -72.8856) -> (15.07, -70.3856)
  line L3 (-21.57, -51.7456) -> (-21.57, -72.8856) projected
  line L4 (-21.57, -51.7456) -> (-15.07, -51.7456)
  line L5 (21.57, -51.7456) -> (-21.57, -51.7456) projected
  line L6 (-15.07, -51.7456) -> (-15.07, -54.2456)
  circle A0 centre (15.07, -70.3856) radius 1.5
  circle A1 centre (-15.07, -54.2456) radius 1.5
  point P0 (0, 0)
  dimension "d519" = 6.5
  dimension "d520" = 2.5
  dimension "d521" = 6.5
  dimension "d522" = 2.5
  dimension "d523" = 3
  dimension "d524" = 3
extrude "Extrusión42" cut sketch "Boceto50" against normal blind 5
sketch "Boceto51" plane through (0, 10, 0) normal (0, 1, 0) x (1, 0, 0)
  line L0 (-21.57, -51.7456) -> (-21.57, -72.8856) projected
  line L1 (-21.57, -51.7456) -> (-18.57, -51.7456)
  line L2 (21.57, -51.7456) -> (-21.57, -51.7456) projected
  line L3 (-18.57, -51.7456) -> (-18.57, -72.8856)
  line L4 (-21.57, -72.8856) -> (21.57, -72.8856) projected
  line L5 (-21.57, -72.8856) -> (-21.57, -51.7456)
  line L6 (21.57, -72.8856) -> (21.57, -51.7456) projected
  line L7 (21.57, -72.8856) -> (18.57, -72.8856)
  line L8 (18.57, -72.8856) -> (18.57, -51.7456)
  line L9 (18.57, -51.7456) -> (21.57, -51.7456)
  line L10 (21.57, -51.7456) -> (21.57, -72.8856)
  point P0 (0, 0)
  dimension "d527" = 3
  dimension "d528" = 3
extrude "Extrusión43" cut sketch "Boceto51" against normal blind 5 contours L1 L3 L4 L0 | L2 L6 L4 L8
properties part number "Mitad_1_3DPrint"
